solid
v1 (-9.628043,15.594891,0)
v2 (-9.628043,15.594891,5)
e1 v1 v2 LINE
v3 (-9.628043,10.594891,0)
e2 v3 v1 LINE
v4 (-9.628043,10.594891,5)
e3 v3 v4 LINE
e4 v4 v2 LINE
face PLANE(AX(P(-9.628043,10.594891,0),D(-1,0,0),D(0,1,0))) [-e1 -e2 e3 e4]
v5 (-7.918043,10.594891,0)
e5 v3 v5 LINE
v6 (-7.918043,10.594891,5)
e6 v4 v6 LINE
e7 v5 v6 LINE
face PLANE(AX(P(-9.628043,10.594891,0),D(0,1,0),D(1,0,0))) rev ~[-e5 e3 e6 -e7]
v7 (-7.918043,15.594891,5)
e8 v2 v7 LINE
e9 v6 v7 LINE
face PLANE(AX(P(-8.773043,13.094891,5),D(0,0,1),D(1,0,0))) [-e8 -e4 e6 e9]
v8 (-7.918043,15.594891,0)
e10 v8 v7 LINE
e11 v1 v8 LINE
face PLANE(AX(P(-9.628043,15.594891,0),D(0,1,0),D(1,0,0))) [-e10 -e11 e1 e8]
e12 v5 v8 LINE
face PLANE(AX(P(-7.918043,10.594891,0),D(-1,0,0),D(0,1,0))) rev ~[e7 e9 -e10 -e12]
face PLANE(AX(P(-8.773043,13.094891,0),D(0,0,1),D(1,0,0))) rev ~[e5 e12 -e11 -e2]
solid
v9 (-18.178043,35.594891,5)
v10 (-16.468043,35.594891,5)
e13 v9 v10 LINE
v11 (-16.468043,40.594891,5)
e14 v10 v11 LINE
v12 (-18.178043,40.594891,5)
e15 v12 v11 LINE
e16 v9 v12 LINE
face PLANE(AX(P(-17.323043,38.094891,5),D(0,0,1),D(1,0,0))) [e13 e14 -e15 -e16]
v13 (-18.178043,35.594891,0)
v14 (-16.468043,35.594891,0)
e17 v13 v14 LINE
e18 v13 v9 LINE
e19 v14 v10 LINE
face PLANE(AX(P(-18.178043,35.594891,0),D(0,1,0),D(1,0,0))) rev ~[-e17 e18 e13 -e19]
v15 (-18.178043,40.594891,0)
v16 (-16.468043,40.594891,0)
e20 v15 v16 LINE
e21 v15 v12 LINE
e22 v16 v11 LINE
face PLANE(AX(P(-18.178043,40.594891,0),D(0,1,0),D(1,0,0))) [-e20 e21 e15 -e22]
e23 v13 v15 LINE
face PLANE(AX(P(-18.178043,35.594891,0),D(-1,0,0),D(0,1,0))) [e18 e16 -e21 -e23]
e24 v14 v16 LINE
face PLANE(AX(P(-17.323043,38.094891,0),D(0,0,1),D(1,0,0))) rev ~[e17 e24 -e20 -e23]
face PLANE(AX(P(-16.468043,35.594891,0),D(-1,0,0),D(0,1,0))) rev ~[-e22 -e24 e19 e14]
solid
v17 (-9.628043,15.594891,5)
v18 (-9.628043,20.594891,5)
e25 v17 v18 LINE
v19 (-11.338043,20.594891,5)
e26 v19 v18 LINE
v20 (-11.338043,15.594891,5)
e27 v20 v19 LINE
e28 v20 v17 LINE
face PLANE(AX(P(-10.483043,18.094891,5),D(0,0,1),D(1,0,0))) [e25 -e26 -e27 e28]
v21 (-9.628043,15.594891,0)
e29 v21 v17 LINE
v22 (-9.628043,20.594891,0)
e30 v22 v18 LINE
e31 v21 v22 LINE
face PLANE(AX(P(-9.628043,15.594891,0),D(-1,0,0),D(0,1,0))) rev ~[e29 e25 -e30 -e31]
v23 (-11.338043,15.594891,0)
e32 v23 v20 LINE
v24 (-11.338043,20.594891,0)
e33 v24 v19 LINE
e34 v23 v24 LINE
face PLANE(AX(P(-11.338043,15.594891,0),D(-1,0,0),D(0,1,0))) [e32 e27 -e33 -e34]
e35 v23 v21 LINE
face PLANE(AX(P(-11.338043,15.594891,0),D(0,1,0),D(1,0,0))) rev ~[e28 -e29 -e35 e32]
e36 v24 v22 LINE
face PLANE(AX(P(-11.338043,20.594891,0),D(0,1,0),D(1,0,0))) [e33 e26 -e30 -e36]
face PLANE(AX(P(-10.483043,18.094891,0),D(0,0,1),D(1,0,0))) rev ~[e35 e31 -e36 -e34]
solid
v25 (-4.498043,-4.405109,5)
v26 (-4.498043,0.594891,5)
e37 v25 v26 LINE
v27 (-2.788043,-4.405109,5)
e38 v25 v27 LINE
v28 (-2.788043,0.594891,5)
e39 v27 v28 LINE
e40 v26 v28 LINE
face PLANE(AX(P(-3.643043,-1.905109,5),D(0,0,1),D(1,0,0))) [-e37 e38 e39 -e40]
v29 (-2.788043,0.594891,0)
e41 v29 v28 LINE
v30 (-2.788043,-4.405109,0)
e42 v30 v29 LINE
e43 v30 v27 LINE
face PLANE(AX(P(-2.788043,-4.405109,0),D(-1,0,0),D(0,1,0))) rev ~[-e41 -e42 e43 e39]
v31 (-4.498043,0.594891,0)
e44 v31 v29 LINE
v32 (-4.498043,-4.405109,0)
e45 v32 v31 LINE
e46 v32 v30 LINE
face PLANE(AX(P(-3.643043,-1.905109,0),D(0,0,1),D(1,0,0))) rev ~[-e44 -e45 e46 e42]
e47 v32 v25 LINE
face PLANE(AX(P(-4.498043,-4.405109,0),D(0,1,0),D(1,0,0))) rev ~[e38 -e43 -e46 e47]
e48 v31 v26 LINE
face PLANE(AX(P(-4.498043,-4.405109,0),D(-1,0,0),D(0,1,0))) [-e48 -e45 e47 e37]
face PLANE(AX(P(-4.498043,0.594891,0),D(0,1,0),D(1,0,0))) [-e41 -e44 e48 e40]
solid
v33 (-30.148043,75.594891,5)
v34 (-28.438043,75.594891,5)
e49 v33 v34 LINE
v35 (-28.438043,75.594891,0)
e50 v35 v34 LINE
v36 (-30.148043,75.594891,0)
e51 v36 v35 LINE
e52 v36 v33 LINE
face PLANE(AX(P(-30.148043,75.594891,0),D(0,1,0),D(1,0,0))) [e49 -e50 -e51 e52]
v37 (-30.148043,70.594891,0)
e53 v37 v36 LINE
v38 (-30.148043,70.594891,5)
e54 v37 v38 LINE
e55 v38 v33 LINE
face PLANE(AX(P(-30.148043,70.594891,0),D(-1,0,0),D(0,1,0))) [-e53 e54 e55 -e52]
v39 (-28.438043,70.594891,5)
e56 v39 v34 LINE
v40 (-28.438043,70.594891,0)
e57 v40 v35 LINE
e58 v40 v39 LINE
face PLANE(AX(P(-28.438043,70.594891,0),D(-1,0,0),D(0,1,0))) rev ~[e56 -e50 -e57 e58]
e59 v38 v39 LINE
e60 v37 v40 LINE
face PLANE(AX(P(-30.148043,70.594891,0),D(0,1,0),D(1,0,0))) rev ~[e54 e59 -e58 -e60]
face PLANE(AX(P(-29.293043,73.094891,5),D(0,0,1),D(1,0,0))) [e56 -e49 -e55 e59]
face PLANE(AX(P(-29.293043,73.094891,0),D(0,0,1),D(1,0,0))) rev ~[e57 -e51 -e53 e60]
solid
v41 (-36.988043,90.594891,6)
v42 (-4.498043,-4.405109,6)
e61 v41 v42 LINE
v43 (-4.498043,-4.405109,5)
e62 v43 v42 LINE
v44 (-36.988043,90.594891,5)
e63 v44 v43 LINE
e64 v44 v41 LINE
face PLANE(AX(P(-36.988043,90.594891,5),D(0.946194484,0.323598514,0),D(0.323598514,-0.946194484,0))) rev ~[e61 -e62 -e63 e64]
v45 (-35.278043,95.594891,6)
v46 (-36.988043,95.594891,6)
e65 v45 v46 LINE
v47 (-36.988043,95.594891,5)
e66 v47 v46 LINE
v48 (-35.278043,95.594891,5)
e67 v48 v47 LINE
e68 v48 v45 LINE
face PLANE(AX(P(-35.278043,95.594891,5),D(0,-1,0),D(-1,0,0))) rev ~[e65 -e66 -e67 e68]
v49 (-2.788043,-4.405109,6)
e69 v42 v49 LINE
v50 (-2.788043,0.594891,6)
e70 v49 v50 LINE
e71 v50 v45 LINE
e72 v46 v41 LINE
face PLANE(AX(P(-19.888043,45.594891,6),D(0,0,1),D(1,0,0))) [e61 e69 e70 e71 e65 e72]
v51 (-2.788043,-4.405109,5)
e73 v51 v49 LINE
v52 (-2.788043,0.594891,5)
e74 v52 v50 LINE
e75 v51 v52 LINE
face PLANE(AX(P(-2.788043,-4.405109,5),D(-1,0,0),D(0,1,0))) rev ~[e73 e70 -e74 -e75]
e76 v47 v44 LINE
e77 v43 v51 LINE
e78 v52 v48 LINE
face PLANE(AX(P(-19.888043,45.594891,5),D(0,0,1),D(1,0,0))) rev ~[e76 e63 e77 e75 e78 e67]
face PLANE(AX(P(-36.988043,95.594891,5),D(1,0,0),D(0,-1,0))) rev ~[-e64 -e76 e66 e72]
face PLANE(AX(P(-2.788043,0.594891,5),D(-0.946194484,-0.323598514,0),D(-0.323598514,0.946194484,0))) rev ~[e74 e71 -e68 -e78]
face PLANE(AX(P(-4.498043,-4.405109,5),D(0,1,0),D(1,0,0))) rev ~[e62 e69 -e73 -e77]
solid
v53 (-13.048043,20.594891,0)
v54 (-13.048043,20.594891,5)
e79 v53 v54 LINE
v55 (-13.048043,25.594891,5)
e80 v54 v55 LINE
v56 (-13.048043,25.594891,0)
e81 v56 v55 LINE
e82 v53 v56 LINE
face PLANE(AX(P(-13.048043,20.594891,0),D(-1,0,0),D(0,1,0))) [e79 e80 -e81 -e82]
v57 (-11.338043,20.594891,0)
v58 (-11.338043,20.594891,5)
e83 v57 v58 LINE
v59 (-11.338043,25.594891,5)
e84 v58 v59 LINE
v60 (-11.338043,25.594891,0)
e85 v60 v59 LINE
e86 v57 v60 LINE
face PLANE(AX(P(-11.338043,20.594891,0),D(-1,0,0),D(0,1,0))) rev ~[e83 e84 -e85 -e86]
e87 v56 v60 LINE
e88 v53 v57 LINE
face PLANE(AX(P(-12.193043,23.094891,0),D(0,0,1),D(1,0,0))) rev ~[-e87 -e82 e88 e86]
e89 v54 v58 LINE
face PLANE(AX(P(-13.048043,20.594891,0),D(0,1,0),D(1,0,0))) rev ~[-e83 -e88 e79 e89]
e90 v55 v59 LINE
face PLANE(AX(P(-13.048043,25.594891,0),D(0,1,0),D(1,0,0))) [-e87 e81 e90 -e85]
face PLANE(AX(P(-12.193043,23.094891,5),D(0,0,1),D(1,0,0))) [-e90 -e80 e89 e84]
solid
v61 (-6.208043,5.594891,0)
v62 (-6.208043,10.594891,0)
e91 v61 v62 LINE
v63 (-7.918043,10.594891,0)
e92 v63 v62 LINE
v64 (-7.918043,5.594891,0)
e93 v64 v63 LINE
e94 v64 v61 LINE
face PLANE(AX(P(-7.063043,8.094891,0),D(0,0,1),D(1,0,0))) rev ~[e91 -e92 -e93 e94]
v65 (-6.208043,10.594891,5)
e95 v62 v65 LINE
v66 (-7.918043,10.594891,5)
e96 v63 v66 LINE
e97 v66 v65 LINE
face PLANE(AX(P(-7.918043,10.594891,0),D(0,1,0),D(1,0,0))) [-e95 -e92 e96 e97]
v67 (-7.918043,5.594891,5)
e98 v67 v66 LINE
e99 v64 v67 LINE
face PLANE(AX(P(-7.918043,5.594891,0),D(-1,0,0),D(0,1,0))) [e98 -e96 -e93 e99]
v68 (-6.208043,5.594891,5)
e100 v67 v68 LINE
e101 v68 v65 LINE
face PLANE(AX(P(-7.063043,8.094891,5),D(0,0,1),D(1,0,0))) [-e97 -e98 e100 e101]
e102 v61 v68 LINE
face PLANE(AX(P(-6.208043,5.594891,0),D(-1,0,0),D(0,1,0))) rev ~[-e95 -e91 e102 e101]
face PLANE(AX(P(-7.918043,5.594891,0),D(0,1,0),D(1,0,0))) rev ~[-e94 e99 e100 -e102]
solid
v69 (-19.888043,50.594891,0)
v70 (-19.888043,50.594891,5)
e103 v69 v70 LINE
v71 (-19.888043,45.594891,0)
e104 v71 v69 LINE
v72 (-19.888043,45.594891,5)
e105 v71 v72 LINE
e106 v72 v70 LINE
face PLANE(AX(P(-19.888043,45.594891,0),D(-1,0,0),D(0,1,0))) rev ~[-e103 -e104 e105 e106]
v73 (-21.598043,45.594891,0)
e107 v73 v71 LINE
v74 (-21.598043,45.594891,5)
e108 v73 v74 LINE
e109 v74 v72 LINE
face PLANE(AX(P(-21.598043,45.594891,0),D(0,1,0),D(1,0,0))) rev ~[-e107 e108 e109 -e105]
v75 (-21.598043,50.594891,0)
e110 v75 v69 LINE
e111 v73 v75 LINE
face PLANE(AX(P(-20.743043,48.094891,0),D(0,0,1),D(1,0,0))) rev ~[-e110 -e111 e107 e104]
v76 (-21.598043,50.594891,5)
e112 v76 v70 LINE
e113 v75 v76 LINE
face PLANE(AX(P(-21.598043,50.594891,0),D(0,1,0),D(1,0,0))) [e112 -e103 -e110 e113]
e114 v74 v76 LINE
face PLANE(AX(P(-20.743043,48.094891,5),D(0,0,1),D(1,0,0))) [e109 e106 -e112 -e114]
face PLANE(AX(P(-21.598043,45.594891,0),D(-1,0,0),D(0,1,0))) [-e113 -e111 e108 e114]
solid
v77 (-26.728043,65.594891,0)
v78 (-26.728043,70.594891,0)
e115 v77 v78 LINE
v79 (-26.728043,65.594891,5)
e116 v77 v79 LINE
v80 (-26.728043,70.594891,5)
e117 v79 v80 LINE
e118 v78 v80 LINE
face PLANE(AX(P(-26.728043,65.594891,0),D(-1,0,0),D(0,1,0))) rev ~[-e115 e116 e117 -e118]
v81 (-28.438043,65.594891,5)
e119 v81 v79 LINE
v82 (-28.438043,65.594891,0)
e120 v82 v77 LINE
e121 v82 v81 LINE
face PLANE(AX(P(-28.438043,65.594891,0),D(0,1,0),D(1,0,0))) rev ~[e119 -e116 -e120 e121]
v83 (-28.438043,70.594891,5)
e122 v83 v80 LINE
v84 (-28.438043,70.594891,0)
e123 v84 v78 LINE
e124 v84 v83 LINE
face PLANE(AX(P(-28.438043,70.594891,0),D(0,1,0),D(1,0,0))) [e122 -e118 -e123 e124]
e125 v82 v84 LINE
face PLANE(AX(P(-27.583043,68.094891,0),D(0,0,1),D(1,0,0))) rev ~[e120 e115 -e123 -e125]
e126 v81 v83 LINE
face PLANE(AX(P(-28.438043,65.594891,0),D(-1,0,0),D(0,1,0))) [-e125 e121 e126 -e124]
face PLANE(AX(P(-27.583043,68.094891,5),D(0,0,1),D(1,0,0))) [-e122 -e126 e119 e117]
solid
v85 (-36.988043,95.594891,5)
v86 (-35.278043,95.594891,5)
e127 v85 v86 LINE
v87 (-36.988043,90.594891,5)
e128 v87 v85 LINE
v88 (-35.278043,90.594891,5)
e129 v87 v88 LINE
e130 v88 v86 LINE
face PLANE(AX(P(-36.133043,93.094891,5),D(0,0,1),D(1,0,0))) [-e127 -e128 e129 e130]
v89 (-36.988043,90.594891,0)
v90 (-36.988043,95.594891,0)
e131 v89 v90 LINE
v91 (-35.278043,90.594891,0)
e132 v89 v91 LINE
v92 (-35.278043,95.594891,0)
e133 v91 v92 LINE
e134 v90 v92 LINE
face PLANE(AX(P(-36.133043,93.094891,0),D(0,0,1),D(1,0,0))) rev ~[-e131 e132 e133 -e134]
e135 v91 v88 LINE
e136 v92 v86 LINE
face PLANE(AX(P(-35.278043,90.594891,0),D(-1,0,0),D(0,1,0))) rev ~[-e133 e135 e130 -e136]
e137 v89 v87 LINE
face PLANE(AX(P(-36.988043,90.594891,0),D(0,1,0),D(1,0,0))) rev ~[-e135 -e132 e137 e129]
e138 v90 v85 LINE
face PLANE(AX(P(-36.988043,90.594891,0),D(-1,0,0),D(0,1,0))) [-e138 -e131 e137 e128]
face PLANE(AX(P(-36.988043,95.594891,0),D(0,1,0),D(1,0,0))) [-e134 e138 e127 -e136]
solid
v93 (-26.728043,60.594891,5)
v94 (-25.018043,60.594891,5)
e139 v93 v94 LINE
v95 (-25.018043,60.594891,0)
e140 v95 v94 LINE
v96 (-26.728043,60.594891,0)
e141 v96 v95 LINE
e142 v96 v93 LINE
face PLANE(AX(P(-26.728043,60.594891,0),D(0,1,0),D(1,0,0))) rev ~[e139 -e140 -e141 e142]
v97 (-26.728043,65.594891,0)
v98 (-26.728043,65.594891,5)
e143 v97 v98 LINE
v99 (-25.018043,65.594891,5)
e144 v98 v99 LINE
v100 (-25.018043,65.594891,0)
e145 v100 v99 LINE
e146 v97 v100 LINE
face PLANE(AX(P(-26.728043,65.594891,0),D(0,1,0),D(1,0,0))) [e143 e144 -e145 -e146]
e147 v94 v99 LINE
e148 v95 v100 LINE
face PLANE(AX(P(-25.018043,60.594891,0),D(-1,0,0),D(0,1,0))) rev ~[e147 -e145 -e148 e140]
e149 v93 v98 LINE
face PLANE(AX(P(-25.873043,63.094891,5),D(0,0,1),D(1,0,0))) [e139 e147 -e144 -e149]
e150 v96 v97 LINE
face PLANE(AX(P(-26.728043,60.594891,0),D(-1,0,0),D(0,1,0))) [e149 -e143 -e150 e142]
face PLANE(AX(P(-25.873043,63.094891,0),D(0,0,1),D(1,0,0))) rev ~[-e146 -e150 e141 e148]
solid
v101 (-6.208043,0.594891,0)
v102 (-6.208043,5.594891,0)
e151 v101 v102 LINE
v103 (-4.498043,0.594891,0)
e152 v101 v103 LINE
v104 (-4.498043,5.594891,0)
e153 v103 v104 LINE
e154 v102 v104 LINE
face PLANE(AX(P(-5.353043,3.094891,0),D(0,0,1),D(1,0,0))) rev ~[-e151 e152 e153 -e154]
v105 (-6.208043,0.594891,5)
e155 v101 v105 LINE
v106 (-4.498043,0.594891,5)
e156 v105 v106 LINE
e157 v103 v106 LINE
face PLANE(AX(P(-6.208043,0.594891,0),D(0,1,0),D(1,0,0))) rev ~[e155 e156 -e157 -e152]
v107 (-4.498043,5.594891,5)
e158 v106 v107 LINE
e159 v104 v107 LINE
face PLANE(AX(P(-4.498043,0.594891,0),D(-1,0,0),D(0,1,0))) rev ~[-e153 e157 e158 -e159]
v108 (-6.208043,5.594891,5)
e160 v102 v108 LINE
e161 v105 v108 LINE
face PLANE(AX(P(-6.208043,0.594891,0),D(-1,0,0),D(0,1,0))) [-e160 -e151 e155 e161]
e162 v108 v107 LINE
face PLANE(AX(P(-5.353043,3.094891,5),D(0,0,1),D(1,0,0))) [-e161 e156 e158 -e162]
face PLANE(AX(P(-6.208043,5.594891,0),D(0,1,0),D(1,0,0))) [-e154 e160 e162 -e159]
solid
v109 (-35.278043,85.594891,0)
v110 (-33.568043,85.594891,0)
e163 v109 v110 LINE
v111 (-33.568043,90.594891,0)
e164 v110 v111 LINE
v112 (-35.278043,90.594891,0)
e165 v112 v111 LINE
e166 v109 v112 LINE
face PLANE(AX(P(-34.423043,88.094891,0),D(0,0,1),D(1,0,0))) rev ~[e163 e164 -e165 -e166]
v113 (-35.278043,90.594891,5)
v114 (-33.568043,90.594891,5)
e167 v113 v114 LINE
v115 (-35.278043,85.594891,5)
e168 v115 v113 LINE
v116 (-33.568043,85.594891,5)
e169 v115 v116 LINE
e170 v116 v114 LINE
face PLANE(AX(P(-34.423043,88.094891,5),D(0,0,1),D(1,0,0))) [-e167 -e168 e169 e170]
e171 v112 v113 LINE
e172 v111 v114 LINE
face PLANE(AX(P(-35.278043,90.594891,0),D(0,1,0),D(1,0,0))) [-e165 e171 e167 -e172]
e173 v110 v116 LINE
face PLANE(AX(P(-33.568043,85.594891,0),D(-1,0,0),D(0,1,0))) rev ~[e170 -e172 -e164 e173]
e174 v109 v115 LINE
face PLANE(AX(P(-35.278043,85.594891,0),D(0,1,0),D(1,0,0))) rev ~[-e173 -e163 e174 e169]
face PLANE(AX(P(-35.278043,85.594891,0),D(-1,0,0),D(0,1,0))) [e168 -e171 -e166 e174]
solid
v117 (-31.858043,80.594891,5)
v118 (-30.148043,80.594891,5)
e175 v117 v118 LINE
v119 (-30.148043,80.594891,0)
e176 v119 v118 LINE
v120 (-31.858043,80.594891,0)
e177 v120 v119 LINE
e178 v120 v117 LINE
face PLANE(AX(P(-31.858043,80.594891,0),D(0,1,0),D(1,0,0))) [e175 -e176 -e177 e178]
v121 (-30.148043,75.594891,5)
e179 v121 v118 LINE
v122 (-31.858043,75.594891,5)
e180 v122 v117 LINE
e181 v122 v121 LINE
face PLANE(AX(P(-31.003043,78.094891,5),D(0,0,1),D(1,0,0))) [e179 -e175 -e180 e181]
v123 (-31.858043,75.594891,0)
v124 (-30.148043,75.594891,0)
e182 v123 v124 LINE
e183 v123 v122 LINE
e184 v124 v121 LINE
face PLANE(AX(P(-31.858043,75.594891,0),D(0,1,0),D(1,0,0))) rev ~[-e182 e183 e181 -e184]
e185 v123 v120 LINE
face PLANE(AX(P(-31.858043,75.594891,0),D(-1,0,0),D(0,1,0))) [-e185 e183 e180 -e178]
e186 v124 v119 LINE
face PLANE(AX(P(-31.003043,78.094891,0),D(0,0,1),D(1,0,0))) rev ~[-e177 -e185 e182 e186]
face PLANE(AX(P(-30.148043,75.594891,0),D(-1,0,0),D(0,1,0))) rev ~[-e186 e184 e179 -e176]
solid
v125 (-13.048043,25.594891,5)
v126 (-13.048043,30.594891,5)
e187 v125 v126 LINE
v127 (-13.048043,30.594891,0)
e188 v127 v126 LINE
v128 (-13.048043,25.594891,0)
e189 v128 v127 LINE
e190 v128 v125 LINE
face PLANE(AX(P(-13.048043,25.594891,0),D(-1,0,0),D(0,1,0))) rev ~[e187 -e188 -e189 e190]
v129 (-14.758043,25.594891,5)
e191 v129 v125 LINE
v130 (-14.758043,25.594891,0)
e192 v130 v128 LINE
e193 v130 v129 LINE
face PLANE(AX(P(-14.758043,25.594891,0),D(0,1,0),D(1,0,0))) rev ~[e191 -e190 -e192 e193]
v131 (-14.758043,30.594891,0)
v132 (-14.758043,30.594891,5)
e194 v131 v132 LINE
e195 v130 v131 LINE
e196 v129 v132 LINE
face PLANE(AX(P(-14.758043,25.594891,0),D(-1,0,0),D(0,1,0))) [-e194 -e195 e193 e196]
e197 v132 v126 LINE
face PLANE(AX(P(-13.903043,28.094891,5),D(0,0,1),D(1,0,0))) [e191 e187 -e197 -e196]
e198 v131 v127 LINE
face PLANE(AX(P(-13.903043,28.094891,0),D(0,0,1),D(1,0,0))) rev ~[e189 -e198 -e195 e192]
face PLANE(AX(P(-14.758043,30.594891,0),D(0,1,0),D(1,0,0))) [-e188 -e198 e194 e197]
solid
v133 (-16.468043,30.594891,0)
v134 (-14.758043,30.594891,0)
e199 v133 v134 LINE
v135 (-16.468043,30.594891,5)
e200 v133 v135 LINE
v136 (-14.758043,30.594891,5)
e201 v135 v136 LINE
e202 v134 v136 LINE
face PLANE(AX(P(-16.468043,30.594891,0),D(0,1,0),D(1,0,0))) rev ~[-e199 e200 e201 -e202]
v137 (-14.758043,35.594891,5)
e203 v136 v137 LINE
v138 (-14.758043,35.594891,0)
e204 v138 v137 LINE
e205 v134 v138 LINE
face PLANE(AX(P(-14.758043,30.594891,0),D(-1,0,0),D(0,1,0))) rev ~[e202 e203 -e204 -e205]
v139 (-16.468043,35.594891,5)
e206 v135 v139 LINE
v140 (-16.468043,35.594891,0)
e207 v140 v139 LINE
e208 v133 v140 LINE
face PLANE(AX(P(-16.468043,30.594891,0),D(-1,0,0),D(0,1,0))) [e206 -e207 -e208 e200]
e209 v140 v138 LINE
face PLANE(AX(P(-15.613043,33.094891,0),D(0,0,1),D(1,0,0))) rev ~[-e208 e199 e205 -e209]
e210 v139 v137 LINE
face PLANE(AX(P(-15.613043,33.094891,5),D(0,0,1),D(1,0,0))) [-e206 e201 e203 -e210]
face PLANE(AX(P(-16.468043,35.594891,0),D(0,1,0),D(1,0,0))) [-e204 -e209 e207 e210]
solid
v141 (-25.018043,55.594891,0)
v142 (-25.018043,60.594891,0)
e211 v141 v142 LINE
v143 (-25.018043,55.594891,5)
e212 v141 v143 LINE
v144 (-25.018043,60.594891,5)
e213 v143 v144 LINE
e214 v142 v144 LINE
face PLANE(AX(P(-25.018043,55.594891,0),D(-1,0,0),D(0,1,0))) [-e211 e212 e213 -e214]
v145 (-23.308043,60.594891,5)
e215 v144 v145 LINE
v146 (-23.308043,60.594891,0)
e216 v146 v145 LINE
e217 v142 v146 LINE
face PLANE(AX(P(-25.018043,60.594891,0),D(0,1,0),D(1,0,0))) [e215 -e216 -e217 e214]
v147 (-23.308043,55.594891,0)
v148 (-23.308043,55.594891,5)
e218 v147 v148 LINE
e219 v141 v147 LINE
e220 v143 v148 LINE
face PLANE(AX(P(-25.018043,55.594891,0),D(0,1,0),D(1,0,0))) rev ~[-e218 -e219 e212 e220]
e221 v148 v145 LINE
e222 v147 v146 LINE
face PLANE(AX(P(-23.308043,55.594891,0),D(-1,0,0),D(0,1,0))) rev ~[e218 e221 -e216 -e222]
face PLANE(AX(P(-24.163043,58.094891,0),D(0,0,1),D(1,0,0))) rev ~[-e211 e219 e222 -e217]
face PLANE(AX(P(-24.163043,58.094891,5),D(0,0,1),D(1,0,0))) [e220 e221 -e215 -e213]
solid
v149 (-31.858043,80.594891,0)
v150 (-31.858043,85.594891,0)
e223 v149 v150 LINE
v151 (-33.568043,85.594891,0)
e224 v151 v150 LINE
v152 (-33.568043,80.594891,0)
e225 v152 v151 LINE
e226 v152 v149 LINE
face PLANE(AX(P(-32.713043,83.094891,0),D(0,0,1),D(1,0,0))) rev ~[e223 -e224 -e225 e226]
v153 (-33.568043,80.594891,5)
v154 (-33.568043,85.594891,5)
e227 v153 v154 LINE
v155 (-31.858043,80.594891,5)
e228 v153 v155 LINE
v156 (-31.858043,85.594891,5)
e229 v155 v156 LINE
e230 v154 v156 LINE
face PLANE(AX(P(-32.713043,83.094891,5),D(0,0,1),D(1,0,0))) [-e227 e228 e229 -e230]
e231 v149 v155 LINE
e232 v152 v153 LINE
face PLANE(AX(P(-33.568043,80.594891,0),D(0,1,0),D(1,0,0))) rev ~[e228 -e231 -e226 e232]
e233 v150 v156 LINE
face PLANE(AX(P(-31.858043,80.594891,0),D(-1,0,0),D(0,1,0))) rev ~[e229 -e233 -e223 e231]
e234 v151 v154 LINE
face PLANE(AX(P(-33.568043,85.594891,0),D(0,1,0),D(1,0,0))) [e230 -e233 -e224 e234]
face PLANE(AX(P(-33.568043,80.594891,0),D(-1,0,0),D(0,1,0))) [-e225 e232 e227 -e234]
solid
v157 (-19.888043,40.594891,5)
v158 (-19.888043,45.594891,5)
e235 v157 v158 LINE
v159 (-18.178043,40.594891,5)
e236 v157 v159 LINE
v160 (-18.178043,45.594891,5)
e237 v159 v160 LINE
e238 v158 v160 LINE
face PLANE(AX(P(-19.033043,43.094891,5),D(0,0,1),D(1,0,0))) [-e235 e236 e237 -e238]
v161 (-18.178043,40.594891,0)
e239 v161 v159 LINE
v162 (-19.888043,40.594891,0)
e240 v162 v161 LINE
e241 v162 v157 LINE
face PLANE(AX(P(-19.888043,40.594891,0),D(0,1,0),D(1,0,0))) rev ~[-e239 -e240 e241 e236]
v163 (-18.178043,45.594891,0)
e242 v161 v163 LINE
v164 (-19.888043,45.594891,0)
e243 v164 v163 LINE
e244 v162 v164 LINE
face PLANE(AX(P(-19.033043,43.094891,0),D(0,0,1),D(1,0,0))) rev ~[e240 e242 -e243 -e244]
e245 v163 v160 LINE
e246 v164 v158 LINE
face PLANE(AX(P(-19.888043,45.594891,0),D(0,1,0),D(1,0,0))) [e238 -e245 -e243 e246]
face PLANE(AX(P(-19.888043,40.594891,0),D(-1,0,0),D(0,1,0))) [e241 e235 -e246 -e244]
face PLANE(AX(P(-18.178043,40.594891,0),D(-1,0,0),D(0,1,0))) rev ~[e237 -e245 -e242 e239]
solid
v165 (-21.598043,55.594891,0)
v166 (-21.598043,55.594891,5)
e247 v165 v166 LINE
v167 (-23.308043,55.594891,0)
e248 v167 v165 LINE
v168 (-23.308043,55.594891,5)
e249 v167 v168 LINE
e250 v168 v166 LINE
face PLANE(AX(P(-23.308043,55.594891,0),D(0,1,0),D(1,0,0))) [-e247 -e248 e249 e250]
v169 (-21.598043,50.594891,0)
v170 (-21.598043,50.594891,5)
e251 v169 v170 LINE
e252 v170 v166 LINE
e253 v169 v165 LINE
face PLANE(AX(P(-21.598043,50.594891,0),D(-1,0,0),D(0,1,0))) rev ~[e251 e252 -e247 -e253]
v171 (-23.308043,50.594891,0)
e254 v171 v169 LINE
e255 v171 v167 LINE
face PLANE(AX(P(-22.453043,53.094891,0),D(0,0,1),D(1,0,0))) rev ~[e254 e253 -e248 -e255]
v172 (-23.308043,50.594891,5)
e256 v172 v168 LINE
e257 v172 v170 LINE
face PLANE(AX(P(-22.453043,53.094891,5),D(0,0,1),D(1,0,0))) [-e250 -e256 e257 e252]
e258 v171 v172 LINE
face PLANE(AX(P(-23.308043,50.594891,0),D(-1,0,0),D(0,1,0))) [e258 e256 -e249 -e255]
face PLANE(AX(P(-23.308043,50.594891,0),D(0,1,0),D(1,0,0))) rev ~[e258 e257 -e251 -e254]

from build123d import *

# Parameters (mm, degrees)
SKETCH2_W              = 1.71
SKETCH2_H              = 5
BOSS_EXTRUDE2_DEPTH    = 5
BOSS_EXTRUDE2_2_DEPTH  = 5
BOSS_EXTRUDE2_3_DEPTH  = 5
BOSS_EXTRUDE2_4_DEPTH  = 5
BOSS_EXTRUDE2_5_DEPTH  = 5
BOSS_EXTRUDE2_6_DEPTH  = 5
BOSS_EXTRUDE2_7_DEPTH  = 5
BOSS_EXTRUDE2_8_DEPTH  = 5
BOSS_EXTRUDE2_9_DEPTH  = 5
BOSS_EXTRUDE2_10_DEPTH = 5
BOSS_EXTRUDE2_11_DEPTH = 5
BOSS_EXTRUDE2_12_DEPTH = 5
BOSS_EXTRUDE2_13_DEPTH = 5
BOSS_EXTRUDE2_14_DEPTH = 5
BOSS_EXTRUDE2_15_DEPTH = 5
BOSS_EXTRUDE2_16_DEPTH = 5
BOSS_EXTRUDE2_17_DEPTH = 5
BOSS_EXTRUDE2_18_DEPTH = 5
BOSS_EXTRUDE2_19_DEPTH = 5
BOSS_EXTRUDE2_20_DEPTH = 5
BOSS_EXTRUDE6_DEPTH    = 1


with BuildPart() as part:
    # Sketch2 → Boss-Extrude2 (new body)
    with BuildSketch(Plane.XY):
        with Locations((-3.643043478, -1.905108696)):
            Rectangle(SKETCH2_W, SKETCH2_H)
    extrude(amount=BOSS_EXTRUDE2_DEPTH)


with BuildPart() as body_2:
    # Sketch2 → Boss-Extrude2 2 (new body)
    with BuildSketch(Plane.XY):
        with Locations((-5.353043478, 3.094891304)):
            Rectangle(SKETCH2_W, SKETCH2_H)
    extrude(amount=BOSS_EXTRUDE2_2_DEPTH)


with BuildPart() as body_3:
    # Sketch2 → Boss-Extrude2 3 (new body)
    with BuildSketch(Plane.XY):
        with Locations((-7.063043478, 8.094891304)):
            Rectangle(SKETCH2_W, SKETCH2_H)
    extrude(amount=BOSS_EXTRUDE2_3_DEPTH)


with BuildPart() as body_4:
    # Sketch2 → Boss-Extrude2 4 (new body)
    with BuildSketch(Plane.XY):
        with Locations((-8.773043478, 13.094891304)):
            Rectangle(SKETCH2_W, SKETCH2_H)
    extrude(amount=BOSS_EXTRUDE2_4_DEPTH)


with BuildPart() as body_5:
    # Sketch2 → Boss-Extrude2 5 (new body)
    with BuildSketch(Plane.XY):
        with Locations((-10.483043478, 18.094891304)):
            Rectangle(SKETCH2_W, SKETCH2_H)
    extrude(amount=BOSS_EXTRUDE2_5_DEPTH)


with BuildPart() as body_6:
    # Sketch2 → Boss-Extrude2 6 (new body)
    with BuildSketch(Plane.XY):
        with Locations((-12.193043478, 23.094891304)):
            Rectangle(SKETCH2_W, SKETCH2_H)
    extrude(amount=BOSS_EXTRUDE2_6_DEPTH)


with BuildPart() as body_7:
    # Sketch2 → Boss-Extrude2 7 (new body)
    with BuildSketch(Plane.XY):
        with Locations((-13.903043478, 28.094891304)):
            Rectangle(SKETCH2_W, SKETCH2_H)
    extrude(amount=BOSS_EXTRUDE2_7_DEPTH)


with BuildPart() as body_8:
    # Sketch2 → Boss-Extrude2 8 (new body)
    with BuildSketch(Plane.XY):
        with Locations((-15.613043478, 33.094891304)):
            Rectangle(SKETCH2_W, SKETCH2_H)
    extrude(amount=BOSS_EXTRUDE2_8_DEPTH)


with BuildPart() as body_9:
    # Sketch2 → Boss-Extrude2 9 (new body)
    with BuildSketch(Plane.XY):
        with Locations((-17.323043478, 38.094891304)):
            Rectangle(SKETCH2_W, SKETCH2_H)
    extrude(amount=BOSS_EXTRUDE2_9_DEPTH)


with BuildPart() as body_10:
    # Sketch2 → Boss-Extrude2 10 (new body)
    with BuildSketch(Plane.XY):
        with Locations((-19.033043478, 43.094891304)):
            Rectangle(SKETCH2_W, SKETCH2_H)
    extrude(amount=BOSS_EXTRUDE2_10_DEPTH)


with BuildPart() as body_11:
    # Sketch2 → Boss-Extrude2 11 (new body)
    with BuildSketch(Plane.XY):
        with Locations((-20.743043478, 48.094891304)):
            Rectangle(SKETCH2_W, SKETCH2_H)
    extrude(amount=BOSS_EXTRUDE2_11_DEPTH)


with BuildPart() as body_12:
    # Sketch2 → Boss-Extrude2 12 (new body)
    with BuildSketch(Plane.XY):
        with Locations((-22.453043478, 53.094891304)):
            Rectangle(SKETCH2_W, SKETCH2_H)
    extrude(amount=BOSS_EXTRUDE2_12_DEPTH)


with BuildPart() as body_13:
    # Sketch2 → Boss-Extrude2 13 (new body)
    with BuildSketch(Plane.XY):
        with Locations((-24.163043478, 58.094891304)):
            Rectangle(SKETCH2_W, SKETCH2_H)
    extrude(amount=BOSS_EXTRUDE2_13_DEPTH)


with BuildPart() as body_14:
    # Sketch2 → Boss-Extrude2 14 (new body)
    with BuildSketch(Plane.XY):
        with Locations((-25.873043478, 63.094891304)):
            Rectangle(SKETCH2_W, SKETCH2_H)
    extrude(amount=BOSS_EXTRUDE2_14_DEPTH)


with BuildPart() as body_15:
    # Sketch2 → Boss-Extrude2 15 (new body)
    with BuildSketch(Plane.XY):
        with Locations((-27.583043478, 68.094891304)):
            Rectangle(SKETCH2_W, SKETCH2_H)
    extrude(amount=BOSS_EXTRUDE2_15_DEPTH)


with BuildPart() as body_16:
    # Sketch2 → Boss-Extrude2 16 (new body)
    with BuildSketch(Plane.XY):
        with Locations((-29.293043478, 73.094891304)):
            Rectangle(SKETCH2_W, SKETCH2_H)
    extrude(amount=BOSS_EXTRUDE2_16_DEPTH)


with BuildPart() as body_17:
    # Sketch2 → Boss-Extrude2 17 (new body)
    with BuildSketch(Plane.XY):
        with Locations((-31.003043478, 78.094891304)):
            Rectangle(SKETCH2_W, SKETCH2_H)
    extrude(amount=BOSS_EXTRUDE2_17_DEPTH)


with BuildPart() as body_18:
    # Sketch2 → Boss-Extrude2 18 (new body)
    with BuildSketch(Plane.XY):
        with Locations((-32.713043478, 83.094891304)):
            Rectangle(SKETCH2_W, SKETCH2_H)
    extrude(amount=BOSS_EXTRUDE2_18_DEPTH)


with BuildPart() as body_19:
    # Sketch2 → Boss-Extrude2 19 (new body)
    with BuildSketch(Plane.XY):
        with Locations((-34.423043478, 88.094891304)):
            Rectangle(SKETCH2_W, SKETCH2_H)
    extrude(amount=BOSS_EXTRUDE2_19_DEPTH)


with BuildPart() as body_20:
    # Sketch2 → Boss-Extrude2 20 (new body)
    with BuildSketch(Plane.XY):
        with Locations((-36.133043478, 93.094891304)):
            Rectangle(SKETCH2_W, SKETCH2_H)
    extrude(amount=BOSS_EXTRUDE2_20_DEPTH)


with BuildPart() as body_21:
    # Sketch3 → Boss-Extrude6 (new body)
    with BuildSketch(Plane.XY.offset(5)):
        Polygon((-36.988043478, 90.594891304), (-4.498043478, -4.405108696), (-2.788043478, -4.405108696), (-2.788043478, 0.594891304), (-35.278043478, 95.594891304), (-36.988043478, 95.594891304), align=None)
    extrude(amount=BOSS_EXTRUDE6_DEPTH)


solid = Compound([part.part, body_2.part, body_3.part, body_4.part, body_5.part, body_6.part, body_7.part, body_8.part, body_9.part, body_10.part, body_11.part, body_12.part, body_13.part, body_14.part, body_15.part, body_16.part, body_17.part, body_18.part, body_19.part, body_20.part, body_21.part])
